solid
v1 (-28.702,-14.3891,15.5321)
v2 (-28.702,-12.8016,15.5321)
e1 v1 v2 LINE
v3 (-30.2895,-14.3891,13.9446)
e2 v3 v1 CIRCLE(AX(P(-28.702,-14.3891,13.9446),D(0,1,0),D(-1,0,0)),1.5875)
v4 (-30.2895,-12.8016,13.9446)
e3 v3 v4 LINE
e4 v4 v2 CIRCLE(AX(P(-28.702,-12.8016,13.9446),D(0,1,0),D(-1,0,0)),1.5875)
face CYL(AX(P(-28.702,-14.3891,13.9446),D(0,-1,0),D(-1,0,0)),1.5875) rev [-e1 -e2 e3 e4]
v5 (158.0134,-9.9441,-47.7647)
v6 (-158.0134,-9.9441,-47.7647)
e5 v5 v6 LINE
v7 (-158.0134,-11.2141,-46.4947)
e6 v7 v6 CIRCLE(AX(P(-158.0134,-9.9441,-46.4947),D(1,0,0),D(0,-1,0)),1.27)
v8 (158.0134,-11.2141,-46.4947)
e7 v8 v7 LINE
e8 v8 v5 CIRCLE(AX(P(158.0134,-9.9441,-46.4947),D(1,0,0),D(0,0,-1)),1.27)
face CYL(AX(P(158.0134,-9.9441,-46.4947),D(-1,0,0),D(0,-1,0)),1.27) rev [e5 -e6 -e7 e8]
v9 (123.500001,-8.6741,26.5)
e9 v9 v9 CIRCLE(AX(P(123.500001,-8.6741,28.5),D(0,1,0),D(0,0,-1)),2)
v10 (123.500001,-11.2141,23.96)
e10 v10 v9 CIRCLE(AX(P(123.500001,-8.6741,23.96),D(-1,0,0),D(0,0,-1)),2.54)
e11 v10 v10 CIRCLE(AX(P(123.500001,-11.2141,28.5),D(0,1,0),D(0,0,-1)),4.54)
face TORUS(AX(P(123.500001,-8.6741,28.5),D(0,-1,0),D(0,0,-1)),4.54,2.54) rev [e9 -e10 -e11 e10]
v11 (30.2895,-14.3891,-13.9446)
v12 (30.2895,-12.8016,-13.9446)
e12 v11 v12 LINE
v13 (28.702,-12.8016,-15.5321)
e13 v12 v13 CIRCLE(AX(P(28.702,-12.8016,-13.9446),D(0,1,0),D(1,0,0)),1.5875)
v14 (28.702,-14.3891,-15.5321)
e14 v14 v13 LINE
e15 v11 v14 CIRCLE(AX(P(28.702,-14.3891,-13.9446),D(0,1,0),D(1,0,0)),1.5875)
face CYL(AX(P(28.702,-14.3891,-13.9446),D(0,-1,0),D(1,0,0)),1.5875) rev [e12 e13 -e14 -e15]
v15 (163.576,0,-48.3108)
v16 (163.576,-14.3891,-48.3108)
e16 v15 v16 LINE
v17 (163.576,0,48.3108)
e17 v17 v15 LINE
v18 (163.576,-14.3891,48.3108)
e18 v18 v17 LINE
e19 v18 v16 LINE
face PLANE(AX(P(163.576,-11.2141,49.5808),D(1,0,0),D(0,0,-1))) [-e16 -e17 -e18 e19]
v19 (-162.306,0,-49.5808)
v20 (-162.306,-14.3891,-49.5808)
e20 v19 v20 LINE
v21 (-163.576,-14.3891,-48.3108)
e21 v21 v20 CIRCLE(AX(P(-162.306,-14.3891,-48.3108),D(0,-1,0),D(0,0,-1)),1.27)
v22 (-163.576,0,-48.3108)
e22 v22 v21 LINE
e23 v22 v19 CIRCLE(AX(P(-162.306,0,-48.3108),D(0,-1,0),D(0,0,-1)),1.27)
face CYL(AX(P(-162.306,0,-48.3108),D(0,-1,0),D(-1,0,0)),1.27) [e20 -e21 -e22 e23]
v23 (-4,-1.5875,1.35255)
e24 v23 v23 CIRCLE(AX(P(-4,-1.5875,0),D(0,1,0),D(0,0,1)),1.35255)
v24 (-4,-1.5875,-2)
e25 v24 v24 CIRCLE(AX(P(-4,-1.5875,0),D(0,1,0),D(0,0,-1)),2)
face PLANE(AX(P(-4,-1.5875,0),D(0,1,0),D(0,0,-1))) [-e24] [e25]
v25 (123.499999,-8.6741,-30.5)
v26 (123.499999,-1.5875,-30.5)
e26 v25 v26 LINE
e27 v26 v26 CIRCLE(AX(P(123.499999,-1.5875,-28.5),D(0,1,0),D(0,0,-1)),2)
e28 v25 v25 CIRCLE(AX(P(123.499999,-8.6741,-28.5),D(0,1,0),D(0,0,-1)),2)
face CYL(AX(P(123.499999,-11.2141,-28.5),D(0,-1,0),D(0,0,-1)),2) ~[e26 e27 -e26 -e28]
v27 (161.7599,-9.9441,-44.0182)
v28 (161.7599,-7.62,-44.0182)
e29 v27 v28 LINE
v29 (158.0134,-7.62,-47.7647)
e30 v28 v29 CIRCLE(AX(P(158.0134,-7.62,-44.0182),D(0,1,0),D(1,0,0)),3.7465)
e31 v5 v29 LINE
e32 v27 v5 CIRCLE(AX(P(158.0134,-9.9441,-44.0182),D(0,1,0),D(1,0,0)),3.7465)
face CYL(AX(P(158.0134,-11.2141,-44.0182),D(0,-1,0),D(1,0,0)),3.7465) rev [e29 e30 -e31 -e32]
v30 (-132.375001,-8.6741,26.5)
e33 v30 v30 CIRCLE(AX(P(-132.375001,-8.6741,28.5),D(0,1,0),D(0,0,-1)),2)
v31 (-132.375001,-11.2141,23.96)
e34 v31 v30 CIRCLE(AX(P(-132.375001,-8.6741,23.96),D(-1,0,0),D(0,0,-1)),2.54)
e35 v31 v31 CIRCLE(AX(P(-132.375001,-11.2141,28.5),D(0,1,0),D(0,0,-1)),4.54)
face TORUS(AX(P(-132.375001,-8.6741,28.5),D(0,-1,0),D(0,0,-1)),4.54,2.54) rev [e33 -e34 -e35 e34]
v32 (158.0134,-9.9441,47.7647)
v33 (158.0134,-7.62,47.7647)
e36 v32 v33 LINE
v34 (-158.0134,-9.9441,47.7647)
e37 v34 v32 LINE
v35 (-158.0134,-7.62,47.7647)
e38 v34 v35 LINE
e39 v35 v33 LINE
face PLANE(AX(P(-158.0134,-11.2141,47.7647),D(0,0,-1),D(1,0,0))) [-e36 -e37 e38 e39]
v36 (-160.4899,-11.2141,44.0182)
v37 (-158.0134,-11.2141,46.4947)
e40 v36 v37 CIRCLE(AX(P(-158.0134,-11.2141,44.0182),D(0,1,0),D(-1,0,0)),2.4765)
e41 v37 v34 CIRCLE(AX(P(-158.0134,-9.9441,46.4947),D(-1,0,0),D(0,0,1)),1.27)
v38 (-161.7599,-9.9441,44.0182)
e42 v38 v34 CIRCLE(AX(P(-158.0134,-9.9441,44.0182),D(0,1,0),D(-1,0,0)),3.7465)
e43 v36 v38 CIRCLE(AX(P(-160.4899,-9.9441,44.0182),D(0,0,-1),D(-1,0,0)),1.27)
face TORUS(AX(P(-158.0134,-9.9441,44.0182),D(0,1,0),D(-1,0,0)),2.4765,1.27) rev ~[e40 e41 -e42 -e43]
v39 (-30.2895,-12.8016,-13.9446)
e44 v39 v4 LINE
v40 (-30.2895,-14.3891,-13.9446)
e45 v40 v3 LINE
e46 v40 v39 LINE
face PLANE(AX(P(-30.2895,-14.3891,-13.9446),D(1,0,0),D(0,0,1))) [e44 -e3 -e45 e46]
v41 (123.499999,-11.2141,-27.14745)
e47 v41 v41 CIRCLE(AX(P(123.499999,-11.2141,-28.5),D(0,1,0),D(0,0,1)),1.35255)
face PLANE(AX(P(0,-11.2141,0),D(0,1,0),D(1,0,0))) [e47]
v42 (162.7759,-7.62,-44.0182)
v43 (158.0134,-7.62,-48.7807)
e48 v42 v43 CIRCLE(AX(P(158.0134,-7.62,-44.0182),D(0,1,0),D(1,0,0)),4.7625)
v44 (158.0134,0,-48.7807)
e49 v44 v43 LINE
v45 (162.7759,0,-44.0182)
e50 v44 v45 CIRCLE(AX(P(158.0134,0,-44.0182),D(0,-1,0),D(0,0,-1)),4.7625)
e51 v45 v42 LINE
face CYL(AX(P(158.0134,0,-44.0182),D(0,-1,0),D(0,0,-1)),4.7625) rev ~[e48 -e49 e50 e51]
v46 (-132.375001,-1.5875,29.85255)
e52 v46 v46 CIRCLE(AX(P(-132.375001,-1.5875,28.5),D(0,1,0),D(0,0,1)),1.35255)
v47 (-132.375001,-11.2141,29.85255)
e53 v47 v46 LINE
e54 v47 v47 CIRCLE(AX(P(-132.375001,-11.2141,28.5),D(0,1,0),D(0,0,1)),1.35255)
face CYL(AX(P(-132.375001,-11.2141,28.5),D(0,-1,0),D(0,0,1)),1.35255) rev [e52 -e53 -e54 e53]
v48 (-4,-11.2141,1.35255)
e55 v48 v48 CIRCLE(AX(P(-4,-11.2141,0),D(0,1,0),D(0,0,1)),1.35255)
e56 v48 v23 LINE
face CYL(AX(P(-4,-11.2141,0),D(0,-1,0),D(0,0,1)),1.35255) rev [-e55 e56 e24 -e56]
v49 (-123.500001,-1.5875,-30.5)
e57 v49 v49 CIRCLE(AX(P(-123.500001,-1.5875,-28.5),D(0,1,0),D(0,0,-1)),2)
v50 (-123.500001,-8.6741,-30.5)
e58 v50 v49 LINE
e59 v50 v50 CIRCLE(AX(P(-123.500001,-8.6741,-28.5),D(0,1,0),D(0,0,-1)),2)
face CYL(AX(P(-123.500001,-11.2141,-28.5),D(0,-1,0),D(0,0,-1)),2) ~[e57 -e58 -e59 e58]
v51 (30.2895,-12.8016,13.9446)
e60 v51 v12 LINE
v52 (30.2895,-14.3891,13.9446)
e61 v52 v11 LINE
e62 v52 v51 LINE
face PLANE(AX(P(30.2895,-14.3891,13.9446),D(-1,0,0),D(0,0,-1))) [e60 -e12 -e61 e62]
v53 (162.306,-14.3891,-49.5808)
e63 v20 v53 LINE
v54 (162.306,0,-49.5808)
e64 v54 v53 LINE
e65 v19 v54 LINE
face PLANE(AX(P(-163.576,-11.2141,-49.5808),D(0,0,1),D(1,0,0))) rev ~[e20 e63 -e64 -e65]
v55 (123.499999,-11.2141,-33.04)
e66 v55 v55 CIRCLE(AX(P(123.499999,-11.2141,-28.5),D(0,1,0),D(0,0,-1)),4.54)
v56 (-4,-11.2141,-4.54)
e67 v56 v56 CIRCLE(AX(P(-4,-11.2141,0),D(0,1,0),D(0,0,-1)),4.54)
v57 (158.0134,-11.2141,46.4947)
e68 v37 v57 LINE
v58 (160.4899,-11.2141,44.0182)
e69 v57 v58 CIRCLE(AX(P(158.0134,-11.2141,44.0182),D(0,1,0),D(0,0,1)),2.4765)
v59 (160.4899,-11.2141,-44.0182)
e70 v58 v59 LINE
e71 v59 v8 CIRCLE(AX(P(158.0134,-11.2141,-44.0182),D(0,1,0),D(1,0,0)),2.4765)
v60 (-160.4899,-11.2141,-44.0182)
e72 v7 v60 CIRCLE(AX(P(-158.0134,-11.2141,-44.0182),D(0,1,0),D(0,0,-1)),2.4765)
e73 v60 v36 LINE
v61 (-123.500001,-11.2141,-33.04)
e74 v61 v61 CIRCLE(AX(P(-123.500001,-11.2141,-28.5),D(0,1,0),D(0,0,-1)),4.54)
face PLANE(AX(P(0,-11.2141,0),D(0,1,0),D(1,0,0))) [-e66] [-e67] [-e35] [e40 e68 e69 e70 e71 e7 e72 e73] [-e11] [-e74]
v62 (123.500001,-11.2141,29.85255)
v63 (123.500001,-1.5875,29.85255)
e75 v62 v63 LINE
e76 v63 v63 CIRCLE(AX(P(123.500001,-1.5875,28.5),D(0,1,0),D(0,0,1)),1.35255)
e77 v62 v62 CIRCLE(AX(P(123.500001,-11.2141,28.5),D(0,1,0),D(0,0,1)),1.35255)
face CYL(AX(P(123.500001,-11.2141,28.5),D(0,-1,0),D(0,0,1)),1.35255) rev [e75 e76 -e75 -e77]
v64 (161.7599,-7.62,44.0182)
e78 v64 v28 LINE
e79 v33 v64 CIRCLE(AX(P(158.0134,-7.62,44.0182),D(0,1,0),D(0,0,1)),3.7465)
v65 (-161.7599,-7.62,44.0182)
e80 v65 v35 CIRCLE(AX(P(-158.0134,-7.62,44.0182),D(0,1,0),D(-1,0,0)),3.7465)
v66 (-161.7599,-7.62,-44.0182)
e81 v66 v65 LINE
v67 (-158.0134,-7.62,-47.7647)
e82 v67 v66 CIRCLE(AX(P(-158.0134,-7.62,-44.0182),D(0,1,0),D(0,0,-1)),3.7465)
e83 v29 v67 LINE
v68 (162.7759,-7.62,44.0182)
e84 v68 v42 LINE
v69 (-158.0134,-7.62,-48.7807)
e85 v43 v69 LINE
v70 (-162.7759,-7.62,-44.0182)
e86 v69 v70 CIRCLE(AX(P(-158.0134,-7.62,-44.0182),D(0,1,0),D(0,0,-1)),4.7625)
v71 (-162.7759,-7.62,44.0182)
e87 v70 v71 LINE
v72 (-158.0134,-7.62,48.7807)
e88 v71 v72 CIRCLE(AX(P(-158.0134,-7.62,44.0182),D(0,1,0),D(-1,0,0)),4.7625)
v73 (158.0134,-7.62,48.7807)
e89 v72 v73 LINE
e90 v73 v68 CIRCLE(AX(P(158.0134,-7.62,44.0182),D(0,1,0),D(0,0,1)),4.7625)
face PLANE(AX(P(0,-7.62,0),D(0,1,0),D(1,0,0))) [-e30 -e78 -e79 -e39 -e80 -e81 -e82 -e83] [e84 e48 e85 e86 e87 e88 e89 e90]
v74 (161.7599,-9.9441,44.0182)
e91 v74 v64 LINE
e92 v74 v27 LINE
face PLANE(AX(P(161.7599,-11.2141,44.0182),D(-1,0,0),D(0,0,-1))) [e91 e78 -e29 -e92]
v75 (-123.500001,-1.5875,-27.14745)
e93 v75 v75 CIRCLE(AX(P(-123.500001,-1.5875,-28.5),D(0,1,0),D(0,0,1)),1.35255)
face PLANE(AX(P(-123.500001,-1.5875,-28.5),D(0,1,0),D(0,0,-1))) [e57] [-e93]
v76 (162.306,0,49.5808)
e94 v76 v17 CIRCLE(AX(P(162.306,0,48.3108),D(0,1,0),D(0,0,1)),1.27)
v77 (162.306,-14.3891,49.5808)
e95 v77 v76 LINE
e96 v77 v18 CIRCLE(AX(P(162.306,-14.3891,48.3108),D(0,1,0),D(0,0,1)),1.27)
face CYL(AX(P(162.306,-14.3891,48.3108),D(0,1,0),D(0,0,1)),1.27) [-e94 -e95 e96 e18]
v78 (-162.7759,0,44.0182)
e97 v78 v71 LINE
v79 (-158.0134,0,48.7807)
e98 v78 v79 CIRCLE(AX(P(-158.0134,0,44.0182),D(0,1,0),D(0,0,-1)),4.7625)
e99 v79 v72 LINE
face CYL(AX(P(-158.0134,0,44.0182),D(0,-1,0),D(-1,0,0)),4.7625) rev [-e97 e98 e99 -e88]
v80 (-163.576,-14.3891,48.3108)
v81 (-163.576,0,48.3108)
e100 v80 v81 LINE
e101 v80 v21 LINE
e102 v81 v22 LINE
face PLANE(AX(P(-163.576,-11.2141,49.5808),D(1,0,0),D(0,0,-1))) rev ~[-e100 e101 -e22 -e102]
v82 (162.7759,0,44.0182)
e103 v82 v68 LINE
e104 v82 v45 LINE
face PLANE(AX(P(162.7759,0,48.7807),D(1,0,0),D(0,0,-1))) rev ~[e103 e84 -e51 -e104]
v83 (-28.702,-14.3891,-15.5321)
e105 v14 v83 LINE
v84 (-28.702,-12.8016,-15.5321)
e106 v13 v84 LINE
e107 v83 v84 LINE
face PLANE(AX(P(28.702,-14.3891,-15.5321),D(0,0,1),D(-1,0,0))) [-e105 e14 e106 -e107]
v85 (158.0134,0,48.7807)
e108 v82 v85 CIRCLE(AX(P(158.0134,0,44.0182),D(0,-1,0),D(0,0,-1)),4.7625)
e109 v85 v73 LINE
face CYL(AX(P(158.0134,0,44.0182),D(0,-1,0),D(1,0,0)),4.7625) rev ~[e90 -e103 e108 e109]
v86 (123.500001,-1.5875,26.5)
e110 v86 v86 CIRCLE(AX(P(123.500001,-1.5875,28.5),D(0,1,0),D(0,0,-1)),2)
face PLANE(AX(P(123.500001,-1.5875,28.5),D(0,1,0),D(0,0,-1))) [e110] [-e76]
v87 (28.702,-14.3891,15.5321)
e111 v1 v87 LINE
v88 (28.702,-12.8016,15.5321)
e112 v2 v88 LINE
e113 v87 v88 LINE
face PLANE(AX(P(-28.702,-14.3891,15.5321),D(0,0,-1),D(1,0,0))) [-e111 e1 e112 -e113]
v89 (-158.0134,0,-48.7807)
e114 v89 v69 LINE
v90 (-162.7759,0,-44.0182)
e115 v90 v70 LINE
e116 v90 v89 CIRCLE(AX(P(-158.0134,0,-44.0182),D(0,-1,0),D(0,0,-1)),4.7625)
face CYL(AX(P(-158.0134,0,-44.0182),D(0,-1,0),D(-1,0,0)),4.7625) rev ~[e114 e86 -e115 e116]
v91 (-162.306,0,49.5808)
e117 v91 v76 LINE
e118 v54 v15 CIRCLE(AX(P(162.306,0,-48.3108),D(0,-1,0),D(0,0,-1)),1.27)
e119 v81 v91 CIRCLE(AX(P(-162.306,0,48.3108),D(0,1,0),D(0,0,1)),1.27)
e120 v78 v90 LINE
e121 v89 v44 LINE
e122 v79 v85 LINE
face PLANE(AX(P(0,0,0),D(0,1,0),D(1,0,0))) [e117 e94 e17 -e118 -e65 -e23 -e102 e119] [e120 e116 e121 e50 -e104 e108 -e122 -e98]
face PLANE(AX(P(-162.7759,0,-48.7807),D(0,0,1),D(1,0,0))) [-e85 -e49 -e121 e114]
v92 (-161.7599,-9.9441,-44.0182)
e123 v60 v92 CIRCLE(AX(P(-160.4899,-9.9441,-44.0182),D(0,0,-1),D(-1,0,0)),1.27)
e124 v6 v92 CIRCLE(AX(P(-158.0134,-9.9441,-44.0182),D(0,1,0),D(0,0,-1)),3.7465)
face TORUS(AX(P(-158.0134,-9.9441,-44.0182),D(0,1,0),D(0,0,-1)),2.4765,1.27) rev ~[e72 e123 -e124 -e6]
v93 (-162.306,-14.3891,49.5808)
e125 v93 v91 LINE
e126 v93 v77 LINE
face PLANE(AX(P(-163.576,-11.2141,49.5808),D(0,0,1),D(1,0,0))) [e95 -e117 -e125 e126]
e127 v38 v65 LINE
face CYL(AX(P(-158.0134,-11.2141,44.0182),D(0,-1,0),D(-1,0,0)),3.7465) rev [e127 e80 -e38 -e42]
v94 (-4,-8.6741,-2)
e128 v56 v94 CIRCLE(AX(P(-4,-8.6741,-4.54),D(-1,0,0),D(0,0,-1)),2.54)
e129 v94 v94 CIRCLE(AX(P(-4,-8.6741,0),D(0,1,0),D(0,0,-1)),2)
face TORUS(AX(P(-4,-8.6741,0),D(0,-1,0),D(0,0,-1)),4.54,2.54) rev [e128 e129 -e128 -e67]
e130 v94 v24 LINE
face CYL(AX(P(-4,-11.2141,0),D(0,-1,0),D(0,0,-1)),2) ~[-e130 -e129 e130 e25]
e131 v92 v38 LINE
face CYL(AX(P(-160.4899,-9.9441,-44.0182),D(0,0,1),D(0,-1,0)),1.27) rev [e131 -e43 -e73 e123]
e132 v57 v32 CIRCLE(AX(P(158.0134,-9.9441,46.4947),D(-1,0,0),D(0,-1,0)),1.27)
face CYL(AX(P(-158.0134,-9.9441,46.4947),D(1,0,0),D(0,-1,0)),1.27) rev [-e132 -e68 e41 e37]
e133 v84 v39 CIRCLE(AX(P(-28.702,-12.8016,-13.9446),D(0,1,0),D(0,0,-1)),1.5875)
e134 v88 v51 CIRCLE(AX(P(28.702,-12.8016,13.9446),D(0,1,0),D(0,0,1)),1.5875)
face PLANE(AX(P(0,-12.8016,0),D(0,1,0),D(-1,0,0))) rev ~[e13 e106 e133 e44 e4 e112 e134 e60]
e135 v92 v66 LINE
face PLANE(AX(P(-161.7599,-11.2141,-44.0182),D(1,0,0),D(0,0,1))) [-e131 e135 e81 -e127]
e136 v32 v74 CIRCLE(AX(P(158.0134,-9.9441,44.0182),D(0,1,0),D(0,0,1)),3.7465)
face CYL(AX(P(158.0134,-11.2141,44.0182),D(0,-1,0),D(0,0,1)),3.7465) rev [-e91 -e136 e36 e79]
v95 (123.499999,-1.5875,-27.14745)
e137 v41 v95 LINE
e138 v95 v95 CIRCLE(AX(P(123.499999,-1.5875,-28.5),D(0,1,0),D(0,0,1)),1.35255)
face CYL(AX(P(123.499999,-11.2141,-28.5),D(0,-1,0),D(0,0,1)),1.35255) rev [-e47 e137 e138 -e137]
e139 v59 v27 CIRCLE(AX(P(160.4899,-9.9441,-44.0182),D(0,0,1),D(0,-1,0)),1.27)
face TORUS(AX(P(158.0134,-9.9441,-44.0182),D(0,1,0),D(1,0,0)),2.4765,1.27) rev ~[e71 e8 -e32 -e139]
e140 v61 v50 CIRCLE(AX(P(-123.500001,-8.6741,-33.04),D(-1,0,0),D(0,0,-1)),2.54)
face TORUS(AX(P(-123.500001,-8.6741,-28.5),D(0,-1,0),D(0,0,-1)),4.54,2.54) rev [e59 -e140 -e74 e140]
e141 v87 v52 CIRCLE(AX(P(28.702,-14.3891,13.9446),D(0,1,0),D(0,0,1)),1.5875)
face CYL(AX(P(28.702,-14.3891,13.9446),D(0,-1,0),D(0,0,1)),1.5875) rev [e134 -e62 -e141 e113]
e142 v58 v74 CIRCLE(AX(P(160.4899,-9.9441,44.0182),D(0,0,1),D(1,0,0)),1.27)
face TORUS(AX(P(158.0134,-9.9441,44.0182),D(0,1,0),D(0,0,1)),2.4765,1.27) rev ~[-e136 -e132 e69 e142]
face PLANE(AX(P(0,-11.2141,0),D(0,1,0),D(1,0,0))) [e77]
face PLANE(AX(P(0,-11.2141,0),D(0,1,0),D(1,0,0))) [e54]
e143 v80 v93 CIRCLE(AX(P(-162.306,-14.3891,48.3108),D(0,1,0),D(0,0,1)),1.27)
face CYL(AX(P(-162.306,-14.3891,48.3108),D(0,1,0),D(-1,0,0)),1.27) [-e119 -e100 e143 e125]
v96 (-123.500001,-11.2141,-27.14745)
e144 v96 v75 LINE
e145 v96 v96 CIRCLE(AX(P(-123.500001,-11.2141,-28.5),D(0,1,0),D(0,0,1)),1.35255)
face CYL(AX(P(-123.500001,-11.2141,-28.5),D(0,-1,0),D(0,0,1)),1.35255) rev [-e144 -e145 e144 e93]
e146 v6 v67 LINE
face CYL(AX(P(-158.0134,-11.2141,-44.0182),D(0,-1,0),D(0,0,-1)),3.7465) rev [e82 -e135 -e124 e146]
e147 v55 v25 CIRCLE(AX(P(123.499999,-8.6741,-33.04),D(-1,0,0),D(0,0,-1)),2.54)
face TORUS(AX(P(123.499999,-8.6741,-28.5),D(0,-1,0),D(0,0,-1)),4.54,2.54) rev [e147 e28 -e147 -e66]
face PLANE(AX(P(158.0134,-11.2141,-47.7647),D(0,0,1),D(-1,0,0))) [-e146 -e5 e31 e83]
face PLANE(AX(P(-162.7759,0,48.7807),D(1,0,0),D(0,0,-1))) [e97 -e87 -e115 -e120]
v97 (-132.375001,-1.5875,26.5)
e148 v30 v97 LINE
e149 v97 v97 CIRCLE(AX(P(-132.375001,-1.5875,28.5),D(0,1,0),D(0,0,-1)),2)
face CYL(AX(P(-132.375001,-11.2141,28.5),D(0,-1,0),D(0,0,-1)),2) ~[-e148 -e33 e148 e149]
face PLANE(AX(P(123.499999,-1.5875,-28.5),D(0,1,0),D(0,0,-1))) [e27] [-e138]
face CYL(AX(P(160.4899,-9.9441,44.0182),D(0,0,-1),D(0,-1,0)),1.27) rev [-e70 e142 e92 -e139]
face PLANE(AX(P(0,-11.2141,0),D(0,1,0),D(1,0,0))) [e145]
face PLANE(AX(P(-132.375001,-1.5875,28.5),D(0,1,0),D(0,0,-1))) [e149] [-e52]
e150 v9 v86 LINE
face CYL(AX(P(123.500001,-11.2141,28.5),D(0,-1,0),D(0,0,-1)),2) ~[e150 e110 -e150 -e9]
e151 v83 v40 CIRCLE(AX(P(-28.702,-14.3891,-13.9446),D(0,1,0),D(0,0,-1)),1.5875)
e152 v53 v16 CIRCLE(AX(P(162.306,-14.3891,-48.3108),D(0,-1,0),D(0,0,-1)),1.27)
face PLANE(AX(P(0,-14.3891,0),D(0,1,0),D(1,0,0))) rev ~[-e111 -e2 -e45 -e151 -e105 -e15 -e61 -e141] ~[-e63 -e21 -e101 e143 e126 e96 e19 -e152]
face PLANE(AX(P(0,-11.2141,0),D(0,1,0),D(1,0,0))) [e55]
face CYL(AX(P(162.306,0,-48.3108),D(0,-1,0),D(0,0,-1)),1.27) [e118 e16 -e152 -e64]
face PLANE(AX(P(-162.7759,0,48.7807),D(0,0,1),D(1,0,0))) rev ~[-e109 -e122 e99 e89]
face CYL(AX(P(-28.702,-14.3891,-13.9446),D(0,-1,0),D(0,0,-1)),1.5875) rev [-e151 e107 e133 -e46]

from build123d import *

# Parameters (mm, degrees)
SKETCH1_W           = 327.152
SKETCH1_H           = 99.1616
SKETCH1_W_2         = 325.5518
SKETCH1_H_2         = 97.5614
BOSS_EXTRUDE2_DEPTH = 11.2141
BOSS_EXTRUDE3_START = -11.2141
SKETCH1_3_W         = 327.152
SKETCH1_3_H         = 99.1616
SKETCH1_3_W_2       = 325.5518
SKETCH1_3_H_2       = 97.5614
BOSS_EXTRUDE3_DEPTH = 3.175
FILLET1_R           = 4.7625
FILLET2_R           = 1.27
CUT_EXTRUDE1_DEPTH  = 1.5875
SKETCH4_R           = 2
SKETCH4_R_2         = 1.35255
BOSS_EXTRUDE4_DEPTH = 9.6266
BOSS_EXTRUDE5_DEPTH = 3.5941
FILLET3_R           = 2.54
FILLET4_R           = 1.27


with BuildPart() as part:
    # Sketch1 → Boss-Extrude2 (new body)
    with BuildSketch(Plane(origin=(0, 0, 0), x_dir=(1, 0, 0), z_dir=(0, 1, 0))):
        Rectangle(SKETCH1_W, SKETCH1_H)
        Rectangle(SKETCH1_W_2, SKETCH1_H_2, mode=Mode.SUBTRACT)
    extrude(amount=-BOSS_EXTRUDE2_DEPTH)

    # Sketch1<3> → Boss-Extrude3 (add)
    # profile 1 of 2: a face of its own
    with BuildSketch(Plane(origin=(0, 0, 0), x_dir=(1, 0, 0), z_dir=(0, 1, 0)).offset(BOSS_EXTRUDE3_START)):
        Rectangle(SKETCH1_3_W, SKETCH1_3_H)
        Rectangle(SKETCH1_3_W_2, SKETCH1_3_H_2, mode=Mode.SUBTRACT)
    # profile 2 of 2: a face of its own
    with BuildSketch(Plane(origin=(0, 0, 0), x_dir=(1, 0, 0), z_dir=(0, 1, 0)).offset(BOSS_EXTRUDE3_START)):
        Rectangle(SKETCH1_3_W_2, SKETCH1_3_H_2)
    extrude(amount=-BOSS_EXTRUDE3_DEPTH)

    # Fillet1
    fillet1_edges = [part.edges().sort_by_distance(p)[0] for p in [
        (-162.7759, -5.60705, 48.7807),
        (-162.7759, -5.60705, -48.7807),
        (162.7759, -5.60705, -48.7807),
        (162.7759, -5.60705, 48.7807),
    ]]
    fillet(fillet1_edges, radius=FILLET1_R)

    # Fillet2
    fillet2_edges = [part.edges().sort_by_distance(p)[0] for p in [
        (163.576, -7.19455, 49.5808),
        (-163.576, -7.19455, 49.5808),
        (-163.576, -7.19455, -49.5808),
        (163.576, -7.19455, -49.5808),
    ]]
    fillet(fillet2_edges, radius=FILLET2_R)

    # Sketch3 → Cut-Extrude1 (cut)
    with BuildSketch(Plane.XZ.offset(14.3891)):
        with BuildLine():
            Line((-28.702, 15.5321), (28.702, 15.5321))
            ThreePointArc((28.702, 15.5321), (29.824532015, 15.067132015), (30.2895, 13.9446))
            Line((30.2895, 13.9446), (30.2895, -13.9446))
            ThreePointArc((30.2895, -13.9446), (29.824532015, -15.067132015), (28.702, -15.5321))
            Line((28.702, -15.5321), (-28.702, -15.5321))
            ThreePointArc((-28.702, -15.5321), (-29.824532015, -15.067132015), (-30.2895, -13.9446))
            Line((-30.2895, -13.9446), (-30.2895, 13.9446))
            ThreePointArc((-30.2895, 13.9446), (-29.824532015, 15.067132015), (-28.702, 15.5321))
        make_face()
    extrude(amount=-CUT_EXTRUDE1_DEPTH, mode=Mode.SUBTRACT)

    # Sketch4 → Boss-Extrude4 (add)
    # profile 1 of 5: a face of its own
    with BuildSketch(Plane(origin=(0, -11.2141, 0), x_dir=(1, 0, 0), z_dir=(0, 1, 0))):
        with Locations(Location((-123.5000008, 28.500000201, 0), (0, 0, 90))):
            Circle(SKETCH4_R)
        with Locations(Location((-123.5000008, 28.500000201, 0), (0, 0, 270))):
            Circle(SKETCH4_R_2, mode=Mode.SUBTRACT)
    # profile 2 of 5: a face of its own
    with BuildSketch(Plane(origin=(0, -11.2141, 0), x_dir=(1, 0, 0), z_dir=(0, 1, 0))):
        with Locations(Location((-132.375000713, -28.50000015, 0), (0, 0, 90))):
            Circle(SKETCH4_R)
        with Locations(Location((-132.375000713, -28.50000015, 0), (0, 0, 270))):
            Circle(SKETCH4_R_2, mode=Mode.SUBTRACT)
    # profile 3 of 5: a face of its own
    with BuildSketch(Plane(origin=(0, -11.2141, 0), x_dir=(1, 0, 0), z_dir=(0, 1, 0))):
        with Locations(Location((-4.000000001, 0, 0), (0, 0, 90))):
            Circle(SKETCH4_R)
        with Locations(Location((-4.000000001, 0, 0), (0, 0, 270))):
            Circle(SKETCH4_R_2, mode=Mode.SUBTRACT)
    # profile 4 of 5: a face of its own
    with BuildSketch(Plane(origin=(0, -11.2141, 0), x_dir=(1, 0, 0), z_dir=(0, 1, 0))):
        with Locations(Location((123.50000065, -28.50000015, 0), (0, 0, 90))):
            Circle(SKETCH4_R)
        with Locations(Location((123.50000065, -28.50000015, 0), (0, 0, 270))):
            Circle(SKETCH4_R_2, mode=Mode.SUBTRACT)
    # profile 5 of 5: a face of its own
    with BuildSketch(Plane(origin=(0, -11.2141, 0), x_dir=(1, 0, 0), z_dir=(0, 1, 0))):
        with Locations(Location((123.4999992, 28.500000201, 0), (0, 0, 90))):
            Circle(SKETCH4_R)
        with Locations(Location((123.4999992, 28.500000201, 0), (0, 0, 270))):
            Circle(SKETCH4_R_2, mode=Mode.SUBTRACT)
    extrude(amount=BOSS_EXTRUDE4_DEPTH)

    # Sketch5 → Boss-Extrude5 (add)
    with BuildSketch(Plane(origin=(0, -11.2141, 0), x_dir=(1, 0, 0), z_dir=(0, 1, 0))):
        with BuildLine():
            Line((-158.0134, -48.7807), (158.0134, -48.7807))
            ThreePointArc((158.0134, -48.7807), (161.380996045, -47.385796045), (162.7759, -44.0182))
            Line((162.7759, -44.0182), (162.7759, 44.0182))
            ThreePointArc((162.7759, 44.0182), (161.380996045, 47.385796045), (158.0134, 48.7807))
            Line((158.0134, 48.7807), (-158.0134, 48.7807))
            ThreePointArc((-158.0134, 48.7807), (-161.380996045, 47.385796045), (-162.7759, 44.0182))
            Line((-162.7759, 44.0182), (-162.7759, -44.0182))
            ThreePointArc((-162.7759, -44.0182), (-161.380996045, -47.385796045), (-158.0134, -48.7807))
        make_face()
        with BuildLine():
            Line((-158.0134, -47.7647), (158.0134, -47.7647))
            ThreePointArc((158.0134, -47.7647), (160.662575556, -46.667375556), (161.7599, -44.0182))
            Line((161.7599, -44.0182), (161.7599, 44.0182))
            ThreePointArc((161.7599, 44.0182), (160.662575556, 46.667375556), (158.0134, 47.7647))
            Line((158.0134, 47.7647), (-158.0134, 47.7647))
            ThreePointArc((-158.0134, 47.7647), (-160.662575556, 46.667375556), (-161.7599, 44.0182))
            Line((-161.7599, 44.0182), (-161.7599, -44.0182))
            ThreePointArc((-161.7599, -44.0182), (-160.662575556, -46.667375556), (-158.0134, -47.7647))
        make_face(mode=Mode.SUBTRACT)
    extrude(amount=BOSS_EXTRUDE5_DEPTH)

    # Fillet3
    fillet3_edges = [part.edges().sort_by_distance(p)[0] for p in [
        (-123.5000008, -11.2141, -26.500000201),
        (-132.375000713, -11.2141, 30.50000015),
        (-4.000000001, -11.2141, 2),
        (123.50000065, -11.2141, 30.50000015),
        (123.4999992, -11.2141, -26.500000201),
    ]]
    fillet(fillet3_edges, radius=FILLET3_R)

    # Fillet4
    fillet4_edges = [part.edges().sort_by_distance(p)[0] for p in [
        (-160.662575556, -11.2141, 46.667375556),
        (0, -11.2141, 47.7647),
        (160.662575556, -11.2141, 46.667375556),
        (161.7599, -11.2141, 0),
        (160.662575556, -11.2141, -46.667375556),
        (0, -11.2141, -47.7647),
        (-160.662575556, -11.2141, -46.667375556),
        (-161.7599, -11.2141, 0),
    ]]
    fillet(fillet4_edges, radius=FILLET4_R)


solid = part.part
